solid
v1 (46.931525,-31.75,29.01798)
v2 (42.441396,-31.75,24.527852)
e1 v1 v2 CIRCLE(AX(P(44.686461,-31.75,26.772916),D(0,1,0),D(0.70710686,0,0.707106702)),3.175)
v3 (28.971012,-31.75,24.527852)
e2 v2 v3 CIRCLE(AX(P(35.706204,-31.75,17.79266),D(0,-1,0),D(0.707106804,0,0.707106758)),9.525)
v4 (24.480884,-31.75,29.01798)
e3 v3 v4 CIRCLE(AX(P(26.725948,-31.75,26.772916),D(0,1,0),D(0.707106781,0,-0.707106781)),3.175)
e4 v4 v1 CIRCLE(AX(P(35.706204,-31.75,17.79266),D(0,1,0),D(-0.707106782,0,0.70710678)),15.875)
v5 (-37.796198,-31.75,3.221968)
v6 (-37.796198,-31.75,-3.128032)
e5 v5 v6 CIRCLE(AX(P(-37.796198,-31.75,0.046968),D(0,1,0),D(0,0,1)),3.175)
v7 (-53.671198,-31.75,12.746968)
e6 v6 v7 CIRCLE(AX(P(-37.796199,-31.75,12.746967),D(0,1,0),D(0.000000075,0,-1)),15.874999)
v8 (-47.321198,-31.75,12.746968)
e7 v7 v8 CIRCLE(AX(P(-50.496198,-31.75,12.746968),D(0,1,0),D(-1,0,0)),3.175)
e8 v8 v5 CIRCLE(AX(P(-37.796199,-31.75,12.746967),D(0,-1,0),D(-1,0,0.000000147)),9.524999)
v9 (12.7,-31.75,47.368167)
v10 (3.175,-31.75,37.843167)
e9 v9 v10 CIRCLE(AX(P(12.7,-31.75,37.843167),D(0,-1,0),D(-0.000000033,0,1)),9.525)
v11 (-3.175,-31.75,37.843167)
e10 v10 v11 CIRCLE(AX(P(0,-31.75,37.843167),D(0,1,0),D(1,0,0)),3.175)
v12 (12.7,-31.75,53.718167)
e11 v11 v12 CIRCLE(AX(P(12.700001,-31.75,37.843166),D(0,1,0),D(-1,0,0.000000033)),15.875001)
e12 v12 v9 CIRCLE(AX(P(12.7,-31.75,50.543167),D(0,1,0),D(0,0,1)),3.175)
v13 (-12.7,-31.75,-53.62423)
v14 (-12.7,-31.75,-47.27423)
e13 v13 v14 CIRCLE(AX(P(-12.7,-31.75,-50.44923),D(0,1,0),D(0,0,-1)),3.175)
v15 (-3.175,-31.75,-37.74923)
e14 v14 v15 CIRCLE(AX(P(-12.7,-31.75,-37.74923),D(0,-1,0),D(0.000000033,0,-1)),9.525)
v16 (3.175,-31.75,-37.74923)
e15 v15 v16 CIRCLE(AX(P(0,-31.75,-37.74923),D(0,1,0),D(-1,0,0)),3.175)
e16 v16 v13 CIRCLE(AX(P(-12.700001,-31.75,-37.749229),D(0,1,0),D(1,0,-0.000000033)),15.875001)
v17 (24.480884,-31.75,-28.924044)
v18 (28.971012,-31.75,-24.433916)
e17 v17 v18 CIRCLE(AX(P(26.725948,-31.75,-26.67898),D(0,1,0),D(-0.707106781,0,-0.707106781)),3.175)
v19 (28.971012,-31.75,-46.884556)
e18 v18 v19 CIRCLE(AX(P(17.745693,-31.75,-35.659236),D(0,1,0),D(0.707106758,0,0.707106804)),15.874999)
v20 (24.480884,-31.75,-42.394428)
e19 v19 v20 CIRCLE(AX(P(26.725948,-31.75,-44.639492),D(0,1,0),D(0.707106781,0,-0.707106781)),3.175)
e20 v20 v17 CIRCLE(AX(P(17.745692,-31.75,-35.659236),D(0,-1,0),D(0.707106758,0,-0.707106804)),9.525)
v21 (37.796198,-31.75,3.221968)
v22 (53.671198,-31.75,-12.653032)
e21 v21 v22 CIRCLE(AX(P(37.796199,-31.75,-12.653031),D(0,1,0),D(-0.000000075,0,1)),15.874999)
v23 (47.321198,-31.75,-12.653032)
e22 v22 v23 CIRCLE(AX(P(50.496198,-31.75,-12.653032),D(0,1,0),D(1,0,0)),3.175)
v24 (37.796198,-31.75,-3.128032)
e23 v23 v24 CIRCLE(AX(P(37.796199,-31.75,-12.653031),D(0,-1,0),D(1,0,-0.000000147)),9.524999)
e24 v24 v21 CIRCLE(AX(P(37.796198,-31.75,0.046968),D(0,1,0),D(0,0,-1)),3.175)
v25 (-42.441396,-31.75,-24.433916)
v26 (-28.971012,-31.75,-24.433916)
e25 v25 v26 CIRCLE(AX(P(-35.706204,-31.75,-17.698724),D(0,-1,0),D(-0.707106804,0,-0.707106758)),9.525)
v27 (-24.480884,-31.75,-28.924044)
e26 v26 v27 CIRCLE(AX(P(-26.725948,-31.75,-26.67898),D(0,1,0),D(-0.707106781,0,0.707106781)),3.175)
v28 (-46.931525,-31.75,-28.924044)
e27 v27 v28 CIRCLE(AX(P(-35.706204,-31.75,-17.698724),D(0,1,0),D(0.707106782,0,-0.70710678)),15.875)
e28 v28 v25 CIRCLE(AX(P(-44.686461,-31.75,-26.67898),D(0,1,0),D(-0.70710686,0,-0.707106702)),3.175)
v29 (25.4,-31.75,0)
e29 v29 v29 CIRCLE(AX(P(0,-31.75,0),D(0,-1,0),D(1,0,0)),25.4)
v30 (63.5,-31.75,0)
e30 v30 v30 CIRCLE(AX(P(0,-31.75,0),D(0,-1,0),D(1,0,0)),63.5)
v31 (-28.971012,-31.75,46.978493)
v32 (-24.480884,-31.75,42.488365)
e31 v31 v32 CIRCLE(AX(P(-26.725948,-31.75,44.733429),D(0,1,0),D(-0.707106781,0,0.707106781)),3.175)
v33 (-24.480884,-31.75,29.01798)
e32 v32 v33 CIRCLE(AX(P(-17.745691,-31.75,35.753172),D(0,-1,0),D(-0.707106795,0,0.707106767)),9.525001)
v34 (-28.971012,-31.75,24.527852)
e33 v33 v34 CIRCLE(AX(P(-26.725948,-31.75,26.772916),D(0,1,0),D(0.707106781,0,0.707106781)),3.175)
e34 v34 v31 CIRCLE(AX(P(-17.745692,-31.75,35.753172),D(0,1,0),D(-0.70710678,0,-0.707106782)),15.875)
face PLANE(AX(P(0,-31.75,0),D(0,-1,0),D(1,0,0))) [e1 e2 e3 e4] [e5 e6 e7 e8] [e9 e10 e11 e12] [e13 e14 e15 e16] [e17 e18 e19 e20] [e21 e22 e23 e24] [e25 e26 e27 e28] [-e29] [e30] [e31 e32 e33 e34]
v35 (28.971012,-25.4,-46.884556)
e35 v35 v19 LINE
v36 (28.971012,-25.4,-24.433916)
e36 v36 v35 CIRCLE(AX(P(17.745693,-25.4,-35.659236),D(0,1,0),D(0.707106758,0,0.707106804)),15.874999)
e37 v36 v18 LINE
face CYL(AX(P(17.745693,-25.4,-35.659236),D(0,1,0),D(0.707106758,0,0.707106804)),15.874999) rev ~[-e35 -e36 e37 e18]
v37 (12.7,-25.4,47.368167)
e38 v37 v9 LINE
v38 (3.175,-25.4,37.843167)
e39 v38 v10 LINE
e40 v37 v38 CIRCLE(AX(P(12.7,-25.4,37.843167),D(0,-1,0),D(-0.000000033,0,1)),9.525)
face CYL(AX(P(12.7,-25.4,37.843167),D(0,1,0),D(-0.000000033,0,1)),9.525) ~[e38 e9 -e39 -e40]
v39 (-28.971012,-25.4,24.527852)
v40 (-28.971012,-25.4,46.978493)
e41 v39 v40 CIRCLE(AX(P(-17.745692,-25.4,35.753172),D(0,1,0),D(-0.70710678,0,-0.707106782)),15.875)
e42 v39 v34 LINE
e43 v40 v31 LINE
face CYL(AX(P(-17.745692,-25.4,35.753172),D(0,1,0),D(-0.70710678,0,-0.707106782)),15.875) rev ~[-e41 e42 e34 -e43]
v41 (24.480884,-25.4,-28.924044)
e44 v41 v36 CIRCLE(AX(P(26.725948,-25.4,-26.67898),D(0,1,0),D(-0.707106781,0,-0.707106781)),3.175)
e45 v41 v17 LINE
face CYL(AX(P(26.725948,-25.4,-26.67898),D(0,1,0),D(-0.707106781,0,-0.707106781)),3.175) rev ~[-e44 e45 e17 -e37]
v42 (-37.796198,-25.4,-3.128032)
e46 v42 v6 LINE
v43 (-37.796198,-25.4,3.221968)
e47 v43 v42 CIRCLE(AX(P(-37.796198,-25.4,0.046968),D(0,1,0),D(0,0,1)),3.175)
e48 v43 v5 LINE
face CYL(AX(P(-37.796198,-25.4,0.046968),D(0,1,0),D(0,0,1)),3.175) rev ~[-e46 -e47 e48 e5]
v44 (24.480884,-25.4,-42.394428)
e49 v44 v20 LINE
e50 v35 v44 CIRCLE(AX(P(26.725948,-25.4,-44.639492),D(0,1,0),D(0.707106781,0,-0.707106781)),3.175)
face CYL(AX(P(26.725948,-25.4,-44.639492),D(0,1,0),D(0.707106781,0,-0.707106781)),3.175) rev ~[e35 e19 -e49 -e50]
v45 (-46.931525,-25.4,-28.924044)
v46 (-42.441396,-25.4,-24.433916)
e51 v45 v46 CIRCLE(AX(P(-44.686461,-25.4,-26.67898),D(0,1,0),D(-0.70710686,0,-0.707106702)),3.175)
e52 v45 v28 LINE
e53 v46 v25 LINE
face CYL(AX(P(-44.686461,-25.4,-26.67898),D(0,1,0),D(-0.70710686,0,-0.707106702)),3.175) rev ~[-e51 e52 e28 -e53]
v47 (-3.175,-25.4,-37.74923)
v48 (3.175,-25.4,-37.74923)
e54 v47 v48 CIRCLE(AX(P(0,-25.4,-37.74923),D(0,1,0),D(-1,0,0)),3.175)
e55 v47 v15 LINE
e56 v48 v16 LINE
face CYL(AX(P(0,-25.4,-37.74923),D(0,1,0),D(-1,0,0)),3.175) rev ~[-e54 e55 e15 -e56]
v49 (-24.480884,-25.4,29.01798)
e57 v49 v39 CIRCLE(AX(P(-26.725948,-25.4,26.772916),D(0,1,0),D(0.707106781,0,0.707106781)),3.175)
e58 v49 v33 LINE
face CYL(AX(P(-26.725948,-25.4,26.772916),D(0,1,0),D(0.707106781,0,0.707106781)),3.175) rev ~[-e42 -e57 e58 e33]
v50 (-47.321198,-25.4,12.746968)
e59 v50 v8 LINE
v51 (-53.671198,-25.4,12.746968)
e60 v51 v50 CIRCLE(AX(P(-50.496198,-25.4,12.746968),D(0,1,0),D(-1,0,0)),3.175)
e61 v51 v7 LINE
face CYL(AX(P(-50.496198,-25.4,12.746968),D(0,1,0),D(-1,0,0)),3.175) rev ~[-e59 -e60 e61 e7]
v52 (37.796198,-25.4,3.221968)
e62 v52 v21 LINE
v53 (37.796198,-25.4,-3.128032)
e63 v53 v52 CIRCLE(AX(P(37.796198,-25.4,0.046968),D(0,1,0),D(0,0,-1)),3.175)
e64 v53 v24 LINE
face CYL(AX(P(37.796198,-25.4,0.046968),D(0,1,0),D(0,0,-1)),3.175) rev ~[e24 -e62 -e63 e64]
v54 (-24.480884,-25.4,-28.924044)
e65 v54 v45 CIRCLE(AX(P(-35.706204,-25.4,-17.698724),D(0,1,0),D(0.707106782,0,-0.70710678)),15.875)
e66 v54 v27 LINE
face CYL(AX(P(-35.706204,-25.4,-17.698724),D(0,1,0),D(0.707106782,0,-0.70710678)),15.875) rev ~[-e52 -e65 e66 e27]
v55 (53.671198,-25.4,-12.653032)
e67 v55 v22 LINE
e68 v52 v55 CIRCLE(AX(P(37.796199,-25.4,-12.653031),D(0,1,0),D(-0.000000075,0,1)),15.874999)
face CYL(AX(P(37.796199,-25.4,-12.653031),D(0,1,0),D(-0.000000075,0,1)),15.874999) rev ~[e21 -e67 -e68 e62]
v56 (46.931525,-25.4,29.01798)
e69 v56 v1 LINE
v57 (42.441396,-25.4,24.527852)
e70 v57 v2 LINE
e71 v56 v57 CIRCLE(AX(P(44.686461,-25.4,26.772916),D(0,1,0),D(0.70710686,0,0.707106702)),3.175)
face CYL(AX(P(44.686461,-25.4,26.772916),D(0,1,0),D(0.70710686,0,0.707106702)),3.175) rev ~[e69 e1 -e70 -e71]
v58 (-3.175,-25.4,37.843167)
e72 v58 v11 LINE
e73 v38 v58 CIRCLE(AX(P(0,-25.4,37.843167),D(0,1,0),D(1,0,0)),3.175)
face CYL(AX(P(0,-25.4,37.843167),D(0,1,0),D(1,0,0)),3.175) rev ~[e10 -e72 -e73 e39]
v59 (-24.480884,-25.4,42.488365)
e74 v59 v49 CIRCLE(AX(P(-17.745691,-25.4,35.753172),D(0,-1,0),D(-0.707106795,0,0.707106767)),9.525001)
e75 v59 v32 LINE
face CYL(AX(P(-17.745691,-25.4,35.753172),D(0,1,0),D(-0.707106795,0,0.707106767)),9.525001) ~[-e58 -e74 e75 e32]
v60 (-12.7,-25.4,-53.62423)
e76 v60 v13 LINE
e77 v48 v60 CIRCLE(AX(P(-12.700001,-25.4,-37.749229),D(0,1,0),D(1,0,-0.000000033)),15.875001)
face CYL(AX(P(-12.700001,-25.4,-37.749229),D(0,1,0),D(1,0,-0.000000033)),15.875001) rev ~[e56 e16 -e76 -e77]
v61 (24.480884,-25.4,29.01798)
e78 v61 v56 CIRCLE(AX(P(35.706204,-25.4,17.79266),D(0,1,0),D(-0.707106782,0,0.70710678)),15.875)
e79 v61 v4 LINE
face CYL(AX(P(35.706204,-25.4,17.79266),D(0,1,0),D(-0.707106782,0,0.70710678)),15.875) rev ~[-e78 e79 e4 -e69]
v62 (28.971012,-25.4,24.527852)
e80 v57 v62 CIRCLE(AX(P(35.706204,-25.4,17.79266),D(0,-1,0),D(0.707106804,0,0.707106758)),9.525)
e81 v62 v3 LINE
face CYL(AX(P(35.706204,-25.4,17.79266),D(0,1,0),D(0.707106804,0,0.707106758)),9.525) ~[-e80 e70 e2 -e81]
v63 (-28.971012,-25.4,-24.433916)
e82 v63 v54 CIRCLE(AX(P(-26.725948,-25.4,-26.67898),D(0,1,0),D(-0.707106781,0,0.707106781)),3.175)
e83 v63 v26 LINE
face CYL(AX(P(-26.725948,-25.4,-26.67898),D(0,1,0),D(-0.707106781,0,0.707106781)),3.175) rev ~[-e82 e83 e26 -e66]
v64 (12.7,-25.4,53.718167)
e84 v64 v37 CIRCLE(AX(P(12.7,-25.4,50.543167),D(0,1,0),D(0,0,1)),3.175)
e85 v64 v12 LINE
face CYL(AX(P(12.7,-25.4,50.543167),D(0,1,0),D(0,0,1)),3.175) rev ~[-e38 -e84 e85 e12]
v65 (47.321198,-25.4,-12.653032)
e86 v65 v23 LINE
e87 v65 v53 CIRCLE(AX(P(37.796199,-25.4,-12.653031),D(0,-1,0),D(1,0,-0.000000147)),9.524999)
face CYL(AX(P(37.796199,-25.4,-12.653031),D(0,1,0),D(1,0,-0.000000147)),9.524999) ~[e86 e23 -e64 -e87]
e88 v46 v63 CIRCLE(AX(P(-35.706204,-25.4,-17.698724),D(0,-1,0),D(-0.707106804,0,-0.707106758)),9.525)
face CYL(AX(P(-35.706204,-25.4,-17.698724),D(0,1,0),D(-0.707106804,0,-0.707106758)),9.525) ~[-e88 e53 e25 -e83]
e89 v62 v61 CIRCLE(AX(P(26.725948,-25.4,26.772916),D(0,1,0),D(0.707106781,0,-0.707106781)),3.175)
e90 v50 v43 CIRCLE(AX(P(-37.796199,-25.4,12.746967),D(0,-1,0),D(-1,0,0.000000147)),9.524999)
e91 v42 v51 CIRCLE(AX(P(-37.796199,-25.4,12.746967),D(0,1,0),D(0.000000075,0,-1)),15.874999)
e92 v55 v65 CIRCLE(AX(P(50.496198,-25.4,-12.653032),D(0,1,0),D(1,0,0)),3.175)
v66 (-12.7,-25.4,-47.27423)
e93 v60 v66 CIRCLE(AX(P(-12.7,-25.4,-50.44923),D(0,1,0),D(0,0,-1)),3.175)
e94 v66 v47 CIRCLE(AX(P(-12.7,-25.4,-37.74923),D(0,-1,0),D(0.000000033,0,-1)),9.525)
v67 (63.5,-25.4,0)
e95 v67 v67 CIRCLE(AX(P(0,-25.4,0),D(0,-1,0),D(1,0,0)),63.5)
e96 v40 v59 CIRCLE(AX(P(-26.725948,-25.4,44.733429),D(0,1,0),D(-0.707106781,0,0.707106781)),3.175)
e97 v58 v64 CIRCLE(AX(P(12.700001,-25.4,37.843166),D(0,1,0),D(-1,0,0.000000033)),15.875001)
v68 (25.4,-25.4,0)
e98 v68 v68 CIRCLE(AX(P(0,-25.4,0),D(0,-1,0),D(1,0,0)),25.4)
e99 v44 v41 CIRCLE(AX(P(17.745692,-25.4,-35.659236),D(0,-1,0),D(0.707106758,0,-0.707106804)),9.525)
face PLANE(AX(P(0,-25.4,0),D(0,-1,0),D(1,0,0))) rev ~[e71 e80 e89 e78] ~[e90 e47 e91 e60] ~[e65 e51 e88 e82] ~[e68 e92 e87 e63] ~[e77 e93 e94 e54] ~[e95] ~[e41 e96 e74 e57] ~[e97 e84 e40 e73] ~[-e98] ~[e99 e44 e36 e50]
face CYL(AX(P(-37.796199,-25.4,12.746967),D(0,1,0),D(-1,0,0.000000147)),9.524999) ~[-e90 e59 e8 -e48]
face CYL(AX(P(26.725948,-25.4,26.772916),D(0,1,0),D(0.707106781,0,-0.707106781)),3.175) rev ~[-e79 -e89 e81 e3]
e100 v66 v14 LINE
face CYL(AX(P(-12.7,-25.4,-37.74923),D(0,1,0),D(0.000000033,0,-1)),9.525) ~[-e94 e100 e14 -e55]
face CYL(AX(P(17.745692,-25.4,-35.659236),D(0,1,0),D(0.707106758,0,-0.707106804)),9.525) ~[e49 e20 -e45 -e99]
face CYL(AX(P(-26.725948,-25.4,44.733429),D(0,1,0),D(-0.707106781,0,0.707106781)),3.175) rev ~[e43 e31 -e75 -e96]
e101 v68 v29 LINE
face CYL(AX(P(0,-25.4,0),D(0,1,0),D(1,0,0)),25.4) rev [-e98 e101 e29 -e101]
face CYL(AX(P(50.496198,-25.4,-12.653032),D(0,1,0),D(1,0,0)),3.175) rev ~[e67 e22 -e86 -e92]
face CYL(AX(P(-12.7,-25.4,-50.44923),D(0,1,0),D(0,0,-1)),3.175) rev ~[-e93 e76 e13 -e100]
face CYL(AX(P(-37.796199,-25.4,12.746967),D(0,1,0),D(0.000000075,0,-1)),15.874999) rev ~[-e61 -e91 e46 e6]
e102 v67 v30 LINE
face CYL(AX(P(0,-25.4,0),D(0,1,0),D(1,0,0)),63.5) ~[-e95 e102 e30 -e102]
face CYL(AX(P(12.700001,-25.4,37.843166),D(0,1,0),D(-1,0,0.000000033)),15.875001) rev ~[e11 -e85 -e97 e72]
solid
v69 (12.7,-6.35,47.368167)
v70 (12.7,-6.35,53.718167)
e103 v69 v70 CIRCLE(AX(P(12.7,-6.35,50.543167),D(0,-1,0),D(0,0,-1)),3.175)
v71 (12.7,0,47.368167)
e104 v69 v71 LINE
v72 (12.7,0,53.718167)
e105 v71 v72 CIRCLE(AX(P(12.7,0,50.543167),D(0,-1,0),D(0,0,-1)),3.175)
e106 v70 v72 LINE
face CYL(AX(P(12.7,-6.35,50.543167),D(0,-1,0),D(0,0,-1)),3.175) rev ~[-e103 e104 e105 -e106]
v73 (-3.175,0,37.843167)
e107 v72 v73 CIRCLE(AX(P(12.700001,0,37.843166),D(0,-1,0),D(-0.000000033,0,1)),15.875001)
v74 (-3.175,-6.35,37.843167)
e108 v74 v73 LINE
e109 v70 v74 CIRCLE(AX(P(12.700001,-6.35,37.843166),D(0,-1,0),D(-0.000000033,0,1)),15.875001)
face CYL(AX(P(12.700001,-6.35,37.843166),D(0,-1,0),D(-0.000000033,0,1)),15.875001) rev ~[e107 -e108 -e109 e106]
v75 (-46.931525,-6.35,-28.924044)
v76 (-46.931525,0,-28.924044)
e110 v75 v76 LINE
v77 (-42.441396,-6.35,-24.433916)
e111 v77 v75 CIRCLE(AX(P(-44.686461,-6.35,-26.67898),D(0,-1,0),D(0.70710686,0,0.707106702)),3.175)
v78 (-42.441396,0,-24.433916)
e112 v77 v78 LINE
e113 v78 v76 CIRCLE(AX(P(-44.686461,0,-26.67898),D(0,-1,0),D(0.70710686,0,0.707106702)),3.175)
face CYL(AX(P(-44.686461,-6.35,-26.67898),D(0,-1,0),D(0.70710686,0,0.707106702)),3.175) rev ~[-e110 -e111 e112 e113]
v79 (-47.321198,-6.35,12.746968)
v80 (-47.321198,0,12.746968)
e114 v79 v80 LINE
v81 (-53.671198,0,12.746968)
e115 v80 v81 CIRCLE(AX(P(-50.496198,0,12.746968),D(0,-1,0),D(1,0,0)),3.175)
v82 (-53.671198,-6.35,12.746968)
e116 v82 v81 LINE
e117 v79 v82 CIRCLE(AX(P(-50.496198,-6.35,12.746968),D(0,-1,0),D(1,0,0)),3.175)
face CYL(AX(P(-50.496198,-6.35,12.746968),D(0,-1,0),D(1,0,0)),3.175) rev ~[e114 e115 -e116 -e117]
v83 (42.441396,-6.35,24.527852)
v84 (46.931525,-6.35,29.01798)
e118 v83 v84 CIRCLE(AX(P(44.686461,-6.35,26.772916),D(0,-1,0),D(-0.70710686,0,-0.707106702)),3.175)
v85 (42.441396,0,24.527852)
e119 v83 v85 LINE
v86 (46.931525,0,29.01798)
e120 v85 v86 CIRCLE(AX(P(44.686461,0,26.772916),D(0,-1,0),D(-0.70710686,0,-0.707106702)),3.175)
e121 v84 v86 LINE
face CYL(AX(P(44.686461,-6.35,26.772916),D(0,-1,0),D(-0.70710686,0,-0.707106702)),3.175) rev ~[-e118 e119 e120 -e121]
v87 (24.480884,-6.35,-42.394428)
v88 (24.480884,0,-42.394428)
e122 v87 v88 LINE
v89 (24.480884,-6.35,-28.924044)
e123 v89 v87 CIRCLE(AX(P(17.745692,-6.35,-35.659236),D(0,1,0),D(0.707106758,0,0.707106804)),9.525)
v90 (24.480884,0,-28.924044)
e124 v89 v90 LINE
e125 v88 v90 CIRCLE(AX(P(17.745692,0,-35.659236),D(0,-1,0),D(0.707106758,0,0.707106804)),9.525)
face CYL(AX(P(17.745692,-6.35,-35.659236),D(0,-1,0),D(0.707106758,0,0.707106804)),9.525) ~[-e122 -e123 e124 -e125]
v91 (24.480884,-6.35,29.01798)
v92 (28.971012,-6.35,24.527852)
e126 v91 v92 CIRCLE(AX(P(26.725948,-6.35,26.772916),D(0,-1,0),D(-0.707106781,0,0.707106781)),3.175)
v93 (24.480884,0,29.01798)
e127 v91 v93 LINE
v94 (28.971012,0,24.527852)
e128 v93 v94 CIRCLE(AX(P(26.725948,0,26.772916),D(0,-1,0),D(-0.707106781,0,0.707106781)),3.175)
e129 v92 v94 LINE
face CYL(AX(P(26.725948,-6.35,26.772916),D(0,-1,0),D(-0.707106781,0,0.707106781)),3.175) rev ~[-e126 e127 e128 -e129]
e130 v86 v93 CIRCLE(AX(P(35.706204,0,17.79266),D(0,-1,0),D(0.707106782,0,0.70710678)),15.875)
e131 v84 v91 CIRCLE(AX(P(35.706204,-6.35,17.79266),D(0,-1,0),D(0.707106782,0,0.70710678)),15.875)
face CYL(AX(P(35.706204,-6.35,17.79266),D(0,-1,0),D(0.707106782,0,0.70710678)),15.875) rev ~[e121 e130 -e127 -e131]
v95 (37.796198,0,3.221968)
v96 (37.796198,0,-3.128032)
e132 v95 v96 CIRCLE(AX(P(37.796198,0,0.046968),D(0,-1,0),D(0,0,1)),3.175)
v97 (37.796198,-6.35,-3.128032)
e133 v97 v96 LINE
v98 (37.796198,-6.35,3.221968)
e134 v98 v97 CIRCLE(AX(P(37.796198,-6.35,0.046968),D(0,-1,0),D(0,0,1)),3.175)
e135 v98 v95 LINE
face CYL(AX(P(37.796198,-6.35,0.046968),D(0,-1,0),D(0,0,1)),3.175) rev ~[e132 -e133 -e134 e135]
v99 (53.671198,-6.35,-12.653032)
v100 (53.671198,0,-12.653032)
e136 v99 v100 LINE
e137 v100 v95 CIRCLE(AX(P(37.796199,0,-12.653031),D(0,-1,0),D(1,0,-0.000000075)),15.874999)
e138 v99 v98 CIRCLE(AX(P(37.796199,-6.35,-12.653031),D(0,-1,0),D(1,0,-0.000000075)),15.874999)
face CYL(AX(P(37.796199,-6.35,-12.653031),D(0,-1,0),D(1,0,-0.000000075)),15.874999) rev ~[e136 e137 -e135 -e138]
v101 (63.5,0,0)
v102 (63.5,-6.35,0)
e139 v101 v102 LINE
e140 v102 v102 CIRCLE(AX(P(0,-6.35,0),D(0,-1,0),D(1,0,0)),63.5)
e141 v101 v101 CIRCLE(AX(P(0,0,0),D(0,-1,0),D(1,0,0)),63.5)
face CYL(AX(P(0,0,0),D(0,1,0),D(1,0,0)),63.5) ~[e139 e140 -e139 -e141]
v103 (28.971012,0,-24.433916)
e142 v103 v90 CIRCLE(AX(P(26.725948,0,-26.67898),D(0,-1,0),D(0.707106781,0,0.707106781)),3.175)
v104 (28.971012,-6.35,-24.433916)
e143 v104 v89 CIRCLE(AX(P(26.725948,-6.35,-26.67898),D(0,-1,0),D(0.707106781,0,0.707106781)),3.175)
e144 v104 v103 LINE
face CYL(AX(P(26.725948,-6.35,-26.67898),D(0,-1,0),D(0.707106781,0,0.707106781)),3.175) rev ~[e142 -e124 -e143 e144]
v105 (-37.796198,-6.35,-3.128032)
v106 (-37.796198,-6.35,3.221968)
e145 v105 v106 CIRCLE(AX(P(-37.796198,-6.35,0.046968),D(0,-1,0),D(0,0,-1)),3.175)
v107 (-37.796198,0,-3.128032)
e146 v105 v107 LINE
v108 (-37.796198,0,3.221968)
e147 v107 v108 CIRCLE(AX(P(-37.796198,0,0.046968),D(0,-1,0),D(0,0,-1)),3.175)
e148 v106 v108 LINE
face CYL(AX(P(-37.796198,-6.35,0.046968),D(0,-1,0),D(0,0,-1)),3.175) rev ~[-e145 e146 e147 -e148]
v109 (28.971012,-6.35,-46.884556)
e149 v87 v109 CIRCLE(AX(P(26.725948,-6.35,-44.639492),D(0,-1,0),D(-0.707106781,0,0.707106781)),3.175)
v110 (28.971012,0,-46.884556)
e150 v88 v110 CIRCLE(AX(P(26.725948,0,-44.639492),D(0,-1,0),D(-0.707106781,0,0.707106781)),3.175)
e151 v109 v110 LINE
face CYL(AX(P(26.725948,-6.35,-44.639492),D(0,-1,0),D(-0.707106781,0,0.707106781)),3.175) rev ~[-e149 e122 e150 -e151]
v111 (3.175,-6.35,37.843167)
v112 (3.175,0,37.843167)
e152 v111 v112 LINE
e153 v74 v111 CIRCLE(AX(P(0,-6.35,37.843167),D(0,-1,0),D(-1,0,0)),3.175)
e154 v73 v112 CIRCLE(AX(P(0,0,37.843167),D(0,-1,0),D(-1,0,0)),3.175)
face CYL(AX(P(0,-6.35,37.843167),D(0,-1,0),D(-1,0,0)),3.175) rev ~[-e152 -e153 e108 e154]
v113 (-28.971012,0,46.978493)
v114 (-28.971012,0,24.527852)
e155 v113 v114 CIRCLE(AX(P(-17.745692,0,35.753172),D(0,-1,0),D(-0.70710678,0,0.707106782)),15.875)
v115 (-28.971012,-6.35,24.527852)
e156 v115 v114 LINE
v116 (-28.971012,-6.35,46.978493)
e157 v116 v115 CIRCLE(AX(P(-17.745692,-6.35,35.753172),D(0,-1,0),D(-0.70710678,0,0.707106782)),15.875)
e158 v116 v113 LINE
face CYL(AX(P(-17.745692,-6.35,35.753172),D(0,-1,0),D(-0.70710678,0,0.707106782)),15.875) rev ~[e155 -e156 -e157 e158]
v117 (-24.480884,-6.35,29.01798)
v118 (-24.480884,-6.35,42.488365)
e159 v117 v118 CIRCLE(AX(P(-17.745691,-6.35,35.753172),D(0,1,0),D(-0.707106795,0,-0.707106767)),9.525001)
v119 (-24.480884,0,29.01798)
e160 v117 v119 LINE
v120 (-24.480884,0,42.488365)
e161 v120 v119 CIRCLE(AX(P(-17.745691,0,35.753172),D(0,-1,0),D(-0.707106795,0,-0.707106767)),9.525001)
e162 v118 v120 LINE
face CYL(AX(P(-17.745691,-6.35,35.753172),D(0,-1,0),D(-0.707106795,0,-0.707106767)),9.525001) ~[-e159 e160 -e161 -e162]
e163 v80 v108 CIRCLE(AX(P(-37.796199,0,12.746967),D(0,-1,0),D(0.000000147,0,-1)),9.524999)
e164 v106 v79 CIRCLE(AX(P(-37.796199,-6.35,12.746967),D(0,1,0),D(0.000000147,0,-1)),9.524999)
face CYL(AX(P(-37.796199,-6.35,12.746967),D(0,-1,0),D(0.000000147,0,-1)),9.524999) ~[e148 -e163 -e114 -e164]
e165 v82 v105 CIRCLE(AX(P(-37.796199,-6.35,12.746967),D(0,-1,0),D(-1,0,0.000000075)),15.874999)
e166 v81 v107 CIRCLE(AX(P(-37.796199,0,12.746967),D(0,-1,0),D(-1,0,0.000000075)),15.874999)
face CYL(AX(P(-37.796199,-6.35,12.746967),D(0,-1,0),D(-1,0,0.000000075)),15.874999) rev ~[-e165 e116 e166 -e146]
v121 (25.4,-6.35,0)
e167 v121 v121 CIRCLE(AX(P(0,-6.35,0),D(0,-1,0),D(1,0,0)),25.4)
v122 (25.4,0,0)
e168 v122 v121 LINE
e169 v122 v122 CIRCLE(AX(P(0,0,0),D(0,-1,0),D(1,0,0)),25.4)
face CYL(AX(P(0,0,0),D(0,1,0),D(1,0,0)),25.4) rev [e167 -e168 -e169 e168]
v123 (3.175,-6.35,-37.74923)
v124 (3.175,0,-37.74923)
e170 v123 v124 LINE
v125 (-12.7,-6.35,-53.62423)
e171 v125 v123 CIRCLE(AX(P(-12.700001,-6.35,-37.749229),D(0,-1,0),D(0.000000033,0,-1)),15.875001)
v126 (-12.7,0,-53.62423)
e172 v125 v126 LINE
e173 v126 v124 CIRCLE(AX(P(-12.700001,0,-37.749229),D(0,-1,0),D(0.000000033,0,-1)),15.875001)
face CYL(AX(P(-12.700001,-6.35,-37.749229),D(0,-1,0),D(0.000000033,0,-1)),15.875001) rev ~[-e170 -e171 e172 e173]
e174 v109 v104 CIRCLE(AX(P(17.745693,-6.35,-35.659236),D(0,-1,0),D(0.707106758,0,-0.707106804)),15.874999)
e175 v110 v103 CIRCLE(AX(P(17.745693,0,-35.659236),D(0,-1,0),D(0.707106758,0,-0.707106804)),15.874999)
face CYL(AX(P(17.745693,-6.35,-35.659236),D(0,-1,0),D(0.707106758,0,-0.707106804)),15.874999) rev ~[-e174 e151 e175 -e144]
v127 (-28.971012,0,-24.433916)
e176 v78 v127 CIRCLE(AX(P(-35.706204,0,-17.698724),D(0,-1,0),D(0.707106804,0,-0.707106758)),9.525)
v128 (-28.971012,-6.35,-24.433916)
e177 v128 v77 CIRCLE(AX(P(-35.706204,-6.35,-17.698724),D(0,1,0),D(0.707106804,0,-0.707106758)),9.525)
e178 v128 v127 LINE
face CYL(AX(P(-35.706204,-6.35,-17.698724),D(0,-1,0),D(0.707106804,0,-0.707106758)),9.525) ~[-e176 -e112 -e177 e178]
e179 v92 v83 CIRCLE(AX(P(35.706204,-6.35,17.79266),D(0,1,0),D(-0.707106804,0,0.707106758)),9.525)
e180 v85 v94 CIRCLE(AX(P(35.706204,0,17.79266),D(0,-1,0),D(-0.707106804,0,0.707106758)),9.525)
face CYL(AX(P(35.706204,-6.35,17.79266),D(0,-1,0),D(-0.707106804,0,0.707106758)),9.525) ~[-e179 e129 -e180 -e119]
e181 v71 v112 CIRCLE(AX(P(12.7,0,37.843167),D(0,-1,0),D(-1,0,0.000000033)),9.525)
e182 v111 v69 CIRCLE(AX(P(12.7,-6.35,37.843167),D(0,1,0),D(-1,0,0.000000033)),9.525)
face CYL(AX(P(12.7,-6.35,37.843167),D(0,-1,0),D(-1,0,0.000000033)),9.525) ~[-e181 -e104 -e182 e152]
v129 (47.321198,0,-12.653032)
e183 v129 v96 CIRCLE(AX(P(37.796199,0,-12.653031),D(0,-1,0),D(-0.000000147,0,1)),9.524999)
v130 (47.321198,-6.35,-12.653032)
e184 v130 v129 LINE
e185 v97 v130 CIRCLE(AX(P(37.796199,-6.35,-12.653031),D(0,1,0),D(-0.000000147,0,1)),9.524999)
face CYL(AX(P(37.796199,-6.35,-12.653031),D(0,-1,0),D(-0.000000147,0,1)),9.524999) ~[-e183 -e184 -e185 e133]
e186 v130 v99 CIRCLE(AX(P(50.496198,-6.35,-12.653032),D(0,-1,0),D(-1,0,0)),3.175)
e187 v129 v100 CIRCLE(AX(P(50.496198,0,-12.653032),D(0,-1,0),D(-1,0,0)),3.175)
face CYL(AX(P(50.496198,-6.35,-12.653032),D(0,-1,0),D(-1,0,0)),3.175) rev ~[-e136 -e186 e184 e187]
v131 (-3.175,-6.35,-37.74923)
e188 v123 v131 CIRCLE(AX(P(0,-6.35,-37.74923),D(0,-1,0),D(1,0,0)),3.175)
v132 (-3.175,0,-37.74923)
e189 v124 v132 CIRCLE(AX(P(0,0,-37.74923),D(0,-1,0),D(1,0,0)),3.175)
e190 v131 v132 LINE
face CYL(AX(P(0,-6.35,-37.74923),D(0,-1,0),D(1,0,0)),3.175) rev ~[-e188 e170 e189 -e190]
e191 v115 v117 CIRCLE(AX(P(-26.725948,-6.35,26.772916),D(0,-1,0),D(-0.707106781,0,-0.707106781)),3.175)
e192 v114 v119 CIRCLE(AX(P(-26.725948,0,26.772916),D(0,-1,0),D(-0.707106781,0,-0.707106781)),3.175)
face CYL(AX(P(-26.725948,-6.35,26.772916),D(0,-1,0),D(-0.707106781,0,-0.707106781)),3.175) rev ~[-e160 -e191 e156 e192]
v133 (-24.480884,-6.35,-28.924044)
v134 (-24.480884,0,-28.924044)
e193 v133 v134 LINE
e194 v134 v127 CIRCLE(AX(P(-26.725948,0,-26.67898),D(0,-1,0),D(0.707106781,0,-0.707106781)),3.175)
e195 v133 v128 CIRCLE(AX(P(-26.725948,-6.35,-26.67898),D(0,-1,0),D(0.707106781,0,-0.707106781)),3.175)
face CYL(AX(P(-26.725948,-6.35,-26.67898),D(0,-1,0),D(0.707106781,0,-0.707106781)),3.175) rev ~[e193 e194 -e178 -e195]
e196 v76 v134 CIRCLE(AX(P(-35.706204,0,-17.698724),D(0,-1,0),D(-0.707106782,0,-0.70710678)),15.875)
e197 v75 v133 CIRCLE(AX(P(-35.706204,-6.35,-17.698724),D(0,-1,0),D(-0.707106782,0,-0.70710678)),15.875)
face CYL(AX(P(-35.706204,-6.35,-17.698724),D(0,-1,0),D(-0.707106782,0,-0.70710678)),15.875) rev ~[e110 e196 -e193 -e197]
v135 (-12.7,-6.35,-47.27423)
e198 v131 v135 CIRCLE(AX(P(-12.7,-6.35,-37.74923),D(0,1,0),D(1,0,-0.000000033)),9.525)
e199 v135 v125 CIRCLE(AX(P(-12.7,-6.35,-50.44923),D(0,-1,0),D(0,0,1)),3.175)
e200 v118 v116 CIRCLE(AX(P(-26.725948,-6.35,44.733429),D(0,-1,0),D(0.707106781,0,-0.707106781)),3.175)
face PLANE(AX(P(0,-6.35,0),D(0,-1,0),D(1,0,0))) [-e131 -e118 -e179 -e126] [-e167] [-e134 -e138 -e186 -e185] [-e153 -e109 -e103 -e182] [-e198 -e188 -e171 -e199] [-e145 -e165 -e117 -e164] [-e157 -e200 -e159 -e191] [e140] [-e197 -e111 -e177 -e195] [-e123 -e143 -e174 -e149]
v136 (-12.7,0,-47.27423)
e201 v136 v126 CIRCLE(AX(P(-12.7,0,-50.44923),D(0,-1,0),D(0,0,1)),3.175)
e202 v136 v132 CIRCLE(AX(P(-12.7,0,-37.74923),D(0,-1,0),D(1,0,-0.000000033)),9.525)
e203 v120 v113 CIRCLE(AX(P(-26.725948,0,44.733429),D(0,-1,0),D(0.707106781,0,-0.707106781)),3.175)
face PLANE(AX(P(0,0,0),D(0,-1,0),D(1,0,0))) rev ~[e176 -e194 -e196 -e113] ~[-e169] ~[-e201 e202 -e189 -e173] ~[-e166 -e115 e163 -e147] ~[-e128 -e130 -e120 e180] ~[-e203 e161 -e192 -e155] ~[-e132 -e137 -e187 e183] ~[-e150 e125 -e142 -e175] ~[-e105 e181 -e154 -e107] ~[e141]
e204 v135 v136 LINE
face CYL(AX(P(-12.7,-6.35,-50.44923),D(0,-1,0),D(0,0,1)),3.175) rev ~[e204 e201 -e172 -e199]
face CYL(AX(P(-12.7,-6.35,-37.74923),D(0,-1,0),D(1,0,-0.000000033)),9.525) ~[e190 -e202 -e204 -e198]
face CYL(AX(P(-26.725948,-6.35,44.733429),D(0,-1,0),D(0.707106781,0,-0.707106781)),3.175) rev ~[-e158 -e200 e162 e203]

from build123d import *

# Parameters (mm, degrees)
F0_R     = 63.5
F0_R_2   = 25.4
F1_DEPTH = 6.35
F3_DEPTH = 25.4
F5_R     = 63.5
F5_R_2   = 25.4
F6_DEPTH = 6.35


with BuildPart() as f1:
    # F0 (on Front) → F1 (new body)
    with BuildSketch(Plane.XZ):
        Circle(F0_R)
        Circle(F0_R_2, mode=Mode.SUBTRACT)
    extrude(amount=F1_DEPTH)

    # F2 (on face) → F3 (cut)
    with BuildSketch(Plane.XZ.offset(6.35)):
        with BuildLine():
            ThreePointArc((12.7, 47.368167), (15.875, 50.543167), (12.7, 53.718167))
            ThreePointArc((12.7, 53.718167), (1.47468, 49.068487), (-3.175, 37.843167))
            ThreePointArc((-3.175, 37.843167), (0, 34.668167), (3.175, 37.843167))
            ThreePointArc((3.175, 37.843167), (5.964808, 44.578359), (12.7, 47.368167))
        make_face()
        with BuildLine():
            ThreePointArc((-28.971012, 24.527852), (-24.480884, 24.527852), (-24.480884, 29.01798))
            ThreePointArc((-24.480884, 29.01798), (-27.270692, 35.753173), (-24.480884, 42.488365))
            ThreePointArc((-24.480884, 42.488365), (-24.480884, 46.978493), (-28.971012, 46.978493))
            ThreePointArc((-28.971012, 46.978493), (-33.620692, 35.753173), (-28.971012, 24.527852))
        make_face()
        with BuildLine():
            ThreePointArc((-37.796198, -3.128032), (-34.621198, 0.046968), (-37.796198, 3.221968))
            ThreePointArc((-37.796198, 3.221968), (-44.531391, 6.011776), (-47.321198, 12.746968))
            ThreePointArc((-47.321198, 12.746968), (-50.496198, 15.921968), (-53.671198, 12.746968))
            ThreePointArc((-53.671198, 12.746968), (-49.021519, 1.521648), (-37.796198, -3.128032))
        make_face()
        with BuildLine():
            ThreePointArc((-24.480884, -28.924044), (-24.480884, -24.433916), (-28.971012, -24.433916))
            ThreePointArc((-28.971012, -24.433916), (-35.706204, -27.223724), (-42.441396, -24.433916))
            ThreePointArc((-42.441396, -24.433916), (-46.931525, -24.433916), (-46.931525, -28.924044))
            ThreePointArc((-46.931525, -28.924044), (-35.706204, -33.573724), (-24.480884, -28.924044))
        make_face()
        with BuildLine():
            ThreePointArc((3.175, -37.74923), (0, -34.57423), (-3.175, -37.74923))
            ThreePointArc((-3.175, -37.74923), (-5.964808, -44.484422), (-12.7, -47.27423))
            ThreePointArc((-12.7, -47.27423), (-15.875, -50.44923), (-12.7, -53.62423))
            ThreePointArc((-12.7, -53.62423), (-1.47468, -48.97455), (3.175, -37.74923))
        make_face()
        with BuildLine():
            ThreePointArc((28.971012, -24.433916), (24.480884, -24.433916), (24.480884, -28.924044))
            ThreePointArc((24.480884, -28.924044), (27.270692, -35.659236), (24.480884, -42.394428))
            ThreePointArc((24.480884, -42.394428), (24.480884, -46.884556), (28.971012, -46.884556))
            ThreePointArc((28.971012, -46.884556), (33.620692, -35.659236), (28.971012, -24.433916))
        make_face()
        with BuildLine():
            ThreePointArc((37.796198, 3.221968), (34.621198, 0.046968), (37.796198, -3.128032))
            ThreePointArc((37.796198, -3.128032), (44.531391, -5.91784), (47.321198, -12.653032))
            ThreePointArc((47.321198, -12.653032), (50.496198, -15.828032), (53.671198, -12.653032))
            ThreePointArc((53.671198, -12.653032), (49.021519, -1.427712), (37.796198, 3.221968))
        make_face()
        with BuildLine():
            ThreePointArc((24.480884, 29.01798), (24.480884, 24.527852), (28.971012, 24.527852))
            ThreePointArc((28.971012, 24.527852), (35.706204, 27.31766), (42.441396, 24.527852))
            ThreePointArc((42.441396, 24.527852), (46.931525, 24.527852), (46.931525, 29.01798))
            ThreePointArc((46.931525, 29.01798), (35.706204, 33.66766), (24.480884, 29.01798))
        make_face()
    extrude(amount=-F3_DEPTH, mode=Mode.SUBTRACT)


with BuildPart() as f6:
    # F5 (on offset) → F6 (new body)
    with BuildSketch(Plane.XZ.offset(25.4)):
        Circle(F5_R)
        with BuildLine():
            ThreePointArc((3.175, -37.74923), (-1.47468, -48.97455), (-12.7, -53.62423))
            ThreePointArc((-12.7, -53.62423), (-15.875, -50.44923), (-12.7, -47.27423))
            ThreePointArc((-12.7, -47.27423), (-5.964808, -44.484422), (-3.175, -37.74923))
            ThreePointArc((-3.175, -37.74923), (0, -34.57423), (3.175, -37.74923))
        make_face(mode=Mode.SUBTRACT)
        with BuildLine():
            ThreePointArc((-24.480884, -28.924044), (-35.706204, -33.573724), (-46.931525, -28.924044))
            ThreePointArc((-46.931525, -28.924044), (-46.931525, -24.433916), (-42.441396, -24.433916))
            ThreePointArc((-42.441396, -24.433916), (-35.706204, -27.223724), (-28.971012, -24.433916))
            ThreePointArc((-28.971012, -24.433916), (-24.480884, -24.433916), (-24.480884, -28.924044))
        make_face(mode=Mode.SUBTRACT)
        with BuildLine():
            ThreePointArc((28.971012, -46.884556), (24.480884, -46.884556), (24.480884, -42.394428))
            ThreePointArc((24.480884, -42.394428), (27.270692, -35.659236), (24.480884, -28.924044))
            ThreePointArc((24.480884, -28.924044), (24.480884, -24.433916), (28.971012, -24.433916))
            ThreePointArc((28.971012, -24.433916), (33.620692, -35.659236), (28.971012, -46.884556))
        make_face(mode=Mode.SUBTRACT)
        with BuildLine():
            ThreePointArc((37.796198, 3.221968), (49.021519, -1.427712), (53.671198, -12.653032))
            ThreePointArc((53.671198, -12.653032), (50.496198, -15.828032), (47.321198, -12.653032))
            ThreePointArc((47.321198, -12.653032), (44.531391, -5.91784), (37.796198, -3.128032))
            ThreePointArc((37.796198, -3.128032), (34.621198, 0.046968), (37.796198, 3.221968))
        make_face(mode=Mode.SUBTRACT)
        with BuildLine():
            ThreePointArc((-37.796198, -3.128032), (-49.021519, 1.521648), (-53.671198, 12.746968))
            ThreePointArc((-53.671198, 12.746968), (-50.496198, 15.921968), (-47.321198, 12.746968))
            ThreePointArc((-47.321198, 12.746968), (-44.531391, 6.011776), (-37.796198, 3.221968))
            ThreePointArc((-37.796198, 3.221968), (-34.621198, 0.046968), (-37.796198, -3.128032))
        make_face(mode=Mode.SUBTRACT)
        with BuildLine():
            ThreePointArc((-24.480884, 42.488365), (-27.270692, 35.753173), (-24.480884, 29.01798))
            ThreePointArc((-24.480884, 29.01798), (-24.480884, 24.527852), (-28.971012, 24.527852))
            ThreePointArc((-28.971012, 24.527852), (-33.620692, 35.753173), (-28.971012, 46.978493))
            ThreePointArc((-28.971012, 46.978493), (-24.480884, 46.978493), (-24.480884, 42.488365))
        make_face(mode=Mode.SUBTRACT)
        Circle(F5_R_2, mode=Mode.SUBTRACT)
        with BuildLine():
            ThreePointArc((24.480884, 29.01798), (35.706204, 33.66766), (46.931525, 29.01798))
            ThreePointArc((46.931525, 29.01798), (46.931525, 24.527852), (42.441396, 24.527852))
            ThreePointArc((42.441396, 24.527852), (35.706204, 27.31766), (28.971012, 24.527852))
            ThreePointArc((28.971012, 24.527852), (24.480884, 24.527852), (24.480884, 29.01798))
        make_face(mode=Mode.SUBTRACT)
        with BuildLine():
            ThreePointArc((12.7, 47.368167), (5.964808, 44.578359), (3.175, 37.843167))
            ThreePointArc((3.175, 37.843167), (0, 34.668167), (-3.175, 37.843167))
            ThreePointArc((-3.175, 37.843167), (1.47468, 49.068487), (12.7, 53.718167))
            ThreePointArc((12.7, 53.718167), (15.875, 50.543167), (12.7, 47.368167))
        make_face(mode=Mode.SUBTRACT)
    extrude(amount=F6_DEPTH)


solid = Compound([f1.part, f6.part])
